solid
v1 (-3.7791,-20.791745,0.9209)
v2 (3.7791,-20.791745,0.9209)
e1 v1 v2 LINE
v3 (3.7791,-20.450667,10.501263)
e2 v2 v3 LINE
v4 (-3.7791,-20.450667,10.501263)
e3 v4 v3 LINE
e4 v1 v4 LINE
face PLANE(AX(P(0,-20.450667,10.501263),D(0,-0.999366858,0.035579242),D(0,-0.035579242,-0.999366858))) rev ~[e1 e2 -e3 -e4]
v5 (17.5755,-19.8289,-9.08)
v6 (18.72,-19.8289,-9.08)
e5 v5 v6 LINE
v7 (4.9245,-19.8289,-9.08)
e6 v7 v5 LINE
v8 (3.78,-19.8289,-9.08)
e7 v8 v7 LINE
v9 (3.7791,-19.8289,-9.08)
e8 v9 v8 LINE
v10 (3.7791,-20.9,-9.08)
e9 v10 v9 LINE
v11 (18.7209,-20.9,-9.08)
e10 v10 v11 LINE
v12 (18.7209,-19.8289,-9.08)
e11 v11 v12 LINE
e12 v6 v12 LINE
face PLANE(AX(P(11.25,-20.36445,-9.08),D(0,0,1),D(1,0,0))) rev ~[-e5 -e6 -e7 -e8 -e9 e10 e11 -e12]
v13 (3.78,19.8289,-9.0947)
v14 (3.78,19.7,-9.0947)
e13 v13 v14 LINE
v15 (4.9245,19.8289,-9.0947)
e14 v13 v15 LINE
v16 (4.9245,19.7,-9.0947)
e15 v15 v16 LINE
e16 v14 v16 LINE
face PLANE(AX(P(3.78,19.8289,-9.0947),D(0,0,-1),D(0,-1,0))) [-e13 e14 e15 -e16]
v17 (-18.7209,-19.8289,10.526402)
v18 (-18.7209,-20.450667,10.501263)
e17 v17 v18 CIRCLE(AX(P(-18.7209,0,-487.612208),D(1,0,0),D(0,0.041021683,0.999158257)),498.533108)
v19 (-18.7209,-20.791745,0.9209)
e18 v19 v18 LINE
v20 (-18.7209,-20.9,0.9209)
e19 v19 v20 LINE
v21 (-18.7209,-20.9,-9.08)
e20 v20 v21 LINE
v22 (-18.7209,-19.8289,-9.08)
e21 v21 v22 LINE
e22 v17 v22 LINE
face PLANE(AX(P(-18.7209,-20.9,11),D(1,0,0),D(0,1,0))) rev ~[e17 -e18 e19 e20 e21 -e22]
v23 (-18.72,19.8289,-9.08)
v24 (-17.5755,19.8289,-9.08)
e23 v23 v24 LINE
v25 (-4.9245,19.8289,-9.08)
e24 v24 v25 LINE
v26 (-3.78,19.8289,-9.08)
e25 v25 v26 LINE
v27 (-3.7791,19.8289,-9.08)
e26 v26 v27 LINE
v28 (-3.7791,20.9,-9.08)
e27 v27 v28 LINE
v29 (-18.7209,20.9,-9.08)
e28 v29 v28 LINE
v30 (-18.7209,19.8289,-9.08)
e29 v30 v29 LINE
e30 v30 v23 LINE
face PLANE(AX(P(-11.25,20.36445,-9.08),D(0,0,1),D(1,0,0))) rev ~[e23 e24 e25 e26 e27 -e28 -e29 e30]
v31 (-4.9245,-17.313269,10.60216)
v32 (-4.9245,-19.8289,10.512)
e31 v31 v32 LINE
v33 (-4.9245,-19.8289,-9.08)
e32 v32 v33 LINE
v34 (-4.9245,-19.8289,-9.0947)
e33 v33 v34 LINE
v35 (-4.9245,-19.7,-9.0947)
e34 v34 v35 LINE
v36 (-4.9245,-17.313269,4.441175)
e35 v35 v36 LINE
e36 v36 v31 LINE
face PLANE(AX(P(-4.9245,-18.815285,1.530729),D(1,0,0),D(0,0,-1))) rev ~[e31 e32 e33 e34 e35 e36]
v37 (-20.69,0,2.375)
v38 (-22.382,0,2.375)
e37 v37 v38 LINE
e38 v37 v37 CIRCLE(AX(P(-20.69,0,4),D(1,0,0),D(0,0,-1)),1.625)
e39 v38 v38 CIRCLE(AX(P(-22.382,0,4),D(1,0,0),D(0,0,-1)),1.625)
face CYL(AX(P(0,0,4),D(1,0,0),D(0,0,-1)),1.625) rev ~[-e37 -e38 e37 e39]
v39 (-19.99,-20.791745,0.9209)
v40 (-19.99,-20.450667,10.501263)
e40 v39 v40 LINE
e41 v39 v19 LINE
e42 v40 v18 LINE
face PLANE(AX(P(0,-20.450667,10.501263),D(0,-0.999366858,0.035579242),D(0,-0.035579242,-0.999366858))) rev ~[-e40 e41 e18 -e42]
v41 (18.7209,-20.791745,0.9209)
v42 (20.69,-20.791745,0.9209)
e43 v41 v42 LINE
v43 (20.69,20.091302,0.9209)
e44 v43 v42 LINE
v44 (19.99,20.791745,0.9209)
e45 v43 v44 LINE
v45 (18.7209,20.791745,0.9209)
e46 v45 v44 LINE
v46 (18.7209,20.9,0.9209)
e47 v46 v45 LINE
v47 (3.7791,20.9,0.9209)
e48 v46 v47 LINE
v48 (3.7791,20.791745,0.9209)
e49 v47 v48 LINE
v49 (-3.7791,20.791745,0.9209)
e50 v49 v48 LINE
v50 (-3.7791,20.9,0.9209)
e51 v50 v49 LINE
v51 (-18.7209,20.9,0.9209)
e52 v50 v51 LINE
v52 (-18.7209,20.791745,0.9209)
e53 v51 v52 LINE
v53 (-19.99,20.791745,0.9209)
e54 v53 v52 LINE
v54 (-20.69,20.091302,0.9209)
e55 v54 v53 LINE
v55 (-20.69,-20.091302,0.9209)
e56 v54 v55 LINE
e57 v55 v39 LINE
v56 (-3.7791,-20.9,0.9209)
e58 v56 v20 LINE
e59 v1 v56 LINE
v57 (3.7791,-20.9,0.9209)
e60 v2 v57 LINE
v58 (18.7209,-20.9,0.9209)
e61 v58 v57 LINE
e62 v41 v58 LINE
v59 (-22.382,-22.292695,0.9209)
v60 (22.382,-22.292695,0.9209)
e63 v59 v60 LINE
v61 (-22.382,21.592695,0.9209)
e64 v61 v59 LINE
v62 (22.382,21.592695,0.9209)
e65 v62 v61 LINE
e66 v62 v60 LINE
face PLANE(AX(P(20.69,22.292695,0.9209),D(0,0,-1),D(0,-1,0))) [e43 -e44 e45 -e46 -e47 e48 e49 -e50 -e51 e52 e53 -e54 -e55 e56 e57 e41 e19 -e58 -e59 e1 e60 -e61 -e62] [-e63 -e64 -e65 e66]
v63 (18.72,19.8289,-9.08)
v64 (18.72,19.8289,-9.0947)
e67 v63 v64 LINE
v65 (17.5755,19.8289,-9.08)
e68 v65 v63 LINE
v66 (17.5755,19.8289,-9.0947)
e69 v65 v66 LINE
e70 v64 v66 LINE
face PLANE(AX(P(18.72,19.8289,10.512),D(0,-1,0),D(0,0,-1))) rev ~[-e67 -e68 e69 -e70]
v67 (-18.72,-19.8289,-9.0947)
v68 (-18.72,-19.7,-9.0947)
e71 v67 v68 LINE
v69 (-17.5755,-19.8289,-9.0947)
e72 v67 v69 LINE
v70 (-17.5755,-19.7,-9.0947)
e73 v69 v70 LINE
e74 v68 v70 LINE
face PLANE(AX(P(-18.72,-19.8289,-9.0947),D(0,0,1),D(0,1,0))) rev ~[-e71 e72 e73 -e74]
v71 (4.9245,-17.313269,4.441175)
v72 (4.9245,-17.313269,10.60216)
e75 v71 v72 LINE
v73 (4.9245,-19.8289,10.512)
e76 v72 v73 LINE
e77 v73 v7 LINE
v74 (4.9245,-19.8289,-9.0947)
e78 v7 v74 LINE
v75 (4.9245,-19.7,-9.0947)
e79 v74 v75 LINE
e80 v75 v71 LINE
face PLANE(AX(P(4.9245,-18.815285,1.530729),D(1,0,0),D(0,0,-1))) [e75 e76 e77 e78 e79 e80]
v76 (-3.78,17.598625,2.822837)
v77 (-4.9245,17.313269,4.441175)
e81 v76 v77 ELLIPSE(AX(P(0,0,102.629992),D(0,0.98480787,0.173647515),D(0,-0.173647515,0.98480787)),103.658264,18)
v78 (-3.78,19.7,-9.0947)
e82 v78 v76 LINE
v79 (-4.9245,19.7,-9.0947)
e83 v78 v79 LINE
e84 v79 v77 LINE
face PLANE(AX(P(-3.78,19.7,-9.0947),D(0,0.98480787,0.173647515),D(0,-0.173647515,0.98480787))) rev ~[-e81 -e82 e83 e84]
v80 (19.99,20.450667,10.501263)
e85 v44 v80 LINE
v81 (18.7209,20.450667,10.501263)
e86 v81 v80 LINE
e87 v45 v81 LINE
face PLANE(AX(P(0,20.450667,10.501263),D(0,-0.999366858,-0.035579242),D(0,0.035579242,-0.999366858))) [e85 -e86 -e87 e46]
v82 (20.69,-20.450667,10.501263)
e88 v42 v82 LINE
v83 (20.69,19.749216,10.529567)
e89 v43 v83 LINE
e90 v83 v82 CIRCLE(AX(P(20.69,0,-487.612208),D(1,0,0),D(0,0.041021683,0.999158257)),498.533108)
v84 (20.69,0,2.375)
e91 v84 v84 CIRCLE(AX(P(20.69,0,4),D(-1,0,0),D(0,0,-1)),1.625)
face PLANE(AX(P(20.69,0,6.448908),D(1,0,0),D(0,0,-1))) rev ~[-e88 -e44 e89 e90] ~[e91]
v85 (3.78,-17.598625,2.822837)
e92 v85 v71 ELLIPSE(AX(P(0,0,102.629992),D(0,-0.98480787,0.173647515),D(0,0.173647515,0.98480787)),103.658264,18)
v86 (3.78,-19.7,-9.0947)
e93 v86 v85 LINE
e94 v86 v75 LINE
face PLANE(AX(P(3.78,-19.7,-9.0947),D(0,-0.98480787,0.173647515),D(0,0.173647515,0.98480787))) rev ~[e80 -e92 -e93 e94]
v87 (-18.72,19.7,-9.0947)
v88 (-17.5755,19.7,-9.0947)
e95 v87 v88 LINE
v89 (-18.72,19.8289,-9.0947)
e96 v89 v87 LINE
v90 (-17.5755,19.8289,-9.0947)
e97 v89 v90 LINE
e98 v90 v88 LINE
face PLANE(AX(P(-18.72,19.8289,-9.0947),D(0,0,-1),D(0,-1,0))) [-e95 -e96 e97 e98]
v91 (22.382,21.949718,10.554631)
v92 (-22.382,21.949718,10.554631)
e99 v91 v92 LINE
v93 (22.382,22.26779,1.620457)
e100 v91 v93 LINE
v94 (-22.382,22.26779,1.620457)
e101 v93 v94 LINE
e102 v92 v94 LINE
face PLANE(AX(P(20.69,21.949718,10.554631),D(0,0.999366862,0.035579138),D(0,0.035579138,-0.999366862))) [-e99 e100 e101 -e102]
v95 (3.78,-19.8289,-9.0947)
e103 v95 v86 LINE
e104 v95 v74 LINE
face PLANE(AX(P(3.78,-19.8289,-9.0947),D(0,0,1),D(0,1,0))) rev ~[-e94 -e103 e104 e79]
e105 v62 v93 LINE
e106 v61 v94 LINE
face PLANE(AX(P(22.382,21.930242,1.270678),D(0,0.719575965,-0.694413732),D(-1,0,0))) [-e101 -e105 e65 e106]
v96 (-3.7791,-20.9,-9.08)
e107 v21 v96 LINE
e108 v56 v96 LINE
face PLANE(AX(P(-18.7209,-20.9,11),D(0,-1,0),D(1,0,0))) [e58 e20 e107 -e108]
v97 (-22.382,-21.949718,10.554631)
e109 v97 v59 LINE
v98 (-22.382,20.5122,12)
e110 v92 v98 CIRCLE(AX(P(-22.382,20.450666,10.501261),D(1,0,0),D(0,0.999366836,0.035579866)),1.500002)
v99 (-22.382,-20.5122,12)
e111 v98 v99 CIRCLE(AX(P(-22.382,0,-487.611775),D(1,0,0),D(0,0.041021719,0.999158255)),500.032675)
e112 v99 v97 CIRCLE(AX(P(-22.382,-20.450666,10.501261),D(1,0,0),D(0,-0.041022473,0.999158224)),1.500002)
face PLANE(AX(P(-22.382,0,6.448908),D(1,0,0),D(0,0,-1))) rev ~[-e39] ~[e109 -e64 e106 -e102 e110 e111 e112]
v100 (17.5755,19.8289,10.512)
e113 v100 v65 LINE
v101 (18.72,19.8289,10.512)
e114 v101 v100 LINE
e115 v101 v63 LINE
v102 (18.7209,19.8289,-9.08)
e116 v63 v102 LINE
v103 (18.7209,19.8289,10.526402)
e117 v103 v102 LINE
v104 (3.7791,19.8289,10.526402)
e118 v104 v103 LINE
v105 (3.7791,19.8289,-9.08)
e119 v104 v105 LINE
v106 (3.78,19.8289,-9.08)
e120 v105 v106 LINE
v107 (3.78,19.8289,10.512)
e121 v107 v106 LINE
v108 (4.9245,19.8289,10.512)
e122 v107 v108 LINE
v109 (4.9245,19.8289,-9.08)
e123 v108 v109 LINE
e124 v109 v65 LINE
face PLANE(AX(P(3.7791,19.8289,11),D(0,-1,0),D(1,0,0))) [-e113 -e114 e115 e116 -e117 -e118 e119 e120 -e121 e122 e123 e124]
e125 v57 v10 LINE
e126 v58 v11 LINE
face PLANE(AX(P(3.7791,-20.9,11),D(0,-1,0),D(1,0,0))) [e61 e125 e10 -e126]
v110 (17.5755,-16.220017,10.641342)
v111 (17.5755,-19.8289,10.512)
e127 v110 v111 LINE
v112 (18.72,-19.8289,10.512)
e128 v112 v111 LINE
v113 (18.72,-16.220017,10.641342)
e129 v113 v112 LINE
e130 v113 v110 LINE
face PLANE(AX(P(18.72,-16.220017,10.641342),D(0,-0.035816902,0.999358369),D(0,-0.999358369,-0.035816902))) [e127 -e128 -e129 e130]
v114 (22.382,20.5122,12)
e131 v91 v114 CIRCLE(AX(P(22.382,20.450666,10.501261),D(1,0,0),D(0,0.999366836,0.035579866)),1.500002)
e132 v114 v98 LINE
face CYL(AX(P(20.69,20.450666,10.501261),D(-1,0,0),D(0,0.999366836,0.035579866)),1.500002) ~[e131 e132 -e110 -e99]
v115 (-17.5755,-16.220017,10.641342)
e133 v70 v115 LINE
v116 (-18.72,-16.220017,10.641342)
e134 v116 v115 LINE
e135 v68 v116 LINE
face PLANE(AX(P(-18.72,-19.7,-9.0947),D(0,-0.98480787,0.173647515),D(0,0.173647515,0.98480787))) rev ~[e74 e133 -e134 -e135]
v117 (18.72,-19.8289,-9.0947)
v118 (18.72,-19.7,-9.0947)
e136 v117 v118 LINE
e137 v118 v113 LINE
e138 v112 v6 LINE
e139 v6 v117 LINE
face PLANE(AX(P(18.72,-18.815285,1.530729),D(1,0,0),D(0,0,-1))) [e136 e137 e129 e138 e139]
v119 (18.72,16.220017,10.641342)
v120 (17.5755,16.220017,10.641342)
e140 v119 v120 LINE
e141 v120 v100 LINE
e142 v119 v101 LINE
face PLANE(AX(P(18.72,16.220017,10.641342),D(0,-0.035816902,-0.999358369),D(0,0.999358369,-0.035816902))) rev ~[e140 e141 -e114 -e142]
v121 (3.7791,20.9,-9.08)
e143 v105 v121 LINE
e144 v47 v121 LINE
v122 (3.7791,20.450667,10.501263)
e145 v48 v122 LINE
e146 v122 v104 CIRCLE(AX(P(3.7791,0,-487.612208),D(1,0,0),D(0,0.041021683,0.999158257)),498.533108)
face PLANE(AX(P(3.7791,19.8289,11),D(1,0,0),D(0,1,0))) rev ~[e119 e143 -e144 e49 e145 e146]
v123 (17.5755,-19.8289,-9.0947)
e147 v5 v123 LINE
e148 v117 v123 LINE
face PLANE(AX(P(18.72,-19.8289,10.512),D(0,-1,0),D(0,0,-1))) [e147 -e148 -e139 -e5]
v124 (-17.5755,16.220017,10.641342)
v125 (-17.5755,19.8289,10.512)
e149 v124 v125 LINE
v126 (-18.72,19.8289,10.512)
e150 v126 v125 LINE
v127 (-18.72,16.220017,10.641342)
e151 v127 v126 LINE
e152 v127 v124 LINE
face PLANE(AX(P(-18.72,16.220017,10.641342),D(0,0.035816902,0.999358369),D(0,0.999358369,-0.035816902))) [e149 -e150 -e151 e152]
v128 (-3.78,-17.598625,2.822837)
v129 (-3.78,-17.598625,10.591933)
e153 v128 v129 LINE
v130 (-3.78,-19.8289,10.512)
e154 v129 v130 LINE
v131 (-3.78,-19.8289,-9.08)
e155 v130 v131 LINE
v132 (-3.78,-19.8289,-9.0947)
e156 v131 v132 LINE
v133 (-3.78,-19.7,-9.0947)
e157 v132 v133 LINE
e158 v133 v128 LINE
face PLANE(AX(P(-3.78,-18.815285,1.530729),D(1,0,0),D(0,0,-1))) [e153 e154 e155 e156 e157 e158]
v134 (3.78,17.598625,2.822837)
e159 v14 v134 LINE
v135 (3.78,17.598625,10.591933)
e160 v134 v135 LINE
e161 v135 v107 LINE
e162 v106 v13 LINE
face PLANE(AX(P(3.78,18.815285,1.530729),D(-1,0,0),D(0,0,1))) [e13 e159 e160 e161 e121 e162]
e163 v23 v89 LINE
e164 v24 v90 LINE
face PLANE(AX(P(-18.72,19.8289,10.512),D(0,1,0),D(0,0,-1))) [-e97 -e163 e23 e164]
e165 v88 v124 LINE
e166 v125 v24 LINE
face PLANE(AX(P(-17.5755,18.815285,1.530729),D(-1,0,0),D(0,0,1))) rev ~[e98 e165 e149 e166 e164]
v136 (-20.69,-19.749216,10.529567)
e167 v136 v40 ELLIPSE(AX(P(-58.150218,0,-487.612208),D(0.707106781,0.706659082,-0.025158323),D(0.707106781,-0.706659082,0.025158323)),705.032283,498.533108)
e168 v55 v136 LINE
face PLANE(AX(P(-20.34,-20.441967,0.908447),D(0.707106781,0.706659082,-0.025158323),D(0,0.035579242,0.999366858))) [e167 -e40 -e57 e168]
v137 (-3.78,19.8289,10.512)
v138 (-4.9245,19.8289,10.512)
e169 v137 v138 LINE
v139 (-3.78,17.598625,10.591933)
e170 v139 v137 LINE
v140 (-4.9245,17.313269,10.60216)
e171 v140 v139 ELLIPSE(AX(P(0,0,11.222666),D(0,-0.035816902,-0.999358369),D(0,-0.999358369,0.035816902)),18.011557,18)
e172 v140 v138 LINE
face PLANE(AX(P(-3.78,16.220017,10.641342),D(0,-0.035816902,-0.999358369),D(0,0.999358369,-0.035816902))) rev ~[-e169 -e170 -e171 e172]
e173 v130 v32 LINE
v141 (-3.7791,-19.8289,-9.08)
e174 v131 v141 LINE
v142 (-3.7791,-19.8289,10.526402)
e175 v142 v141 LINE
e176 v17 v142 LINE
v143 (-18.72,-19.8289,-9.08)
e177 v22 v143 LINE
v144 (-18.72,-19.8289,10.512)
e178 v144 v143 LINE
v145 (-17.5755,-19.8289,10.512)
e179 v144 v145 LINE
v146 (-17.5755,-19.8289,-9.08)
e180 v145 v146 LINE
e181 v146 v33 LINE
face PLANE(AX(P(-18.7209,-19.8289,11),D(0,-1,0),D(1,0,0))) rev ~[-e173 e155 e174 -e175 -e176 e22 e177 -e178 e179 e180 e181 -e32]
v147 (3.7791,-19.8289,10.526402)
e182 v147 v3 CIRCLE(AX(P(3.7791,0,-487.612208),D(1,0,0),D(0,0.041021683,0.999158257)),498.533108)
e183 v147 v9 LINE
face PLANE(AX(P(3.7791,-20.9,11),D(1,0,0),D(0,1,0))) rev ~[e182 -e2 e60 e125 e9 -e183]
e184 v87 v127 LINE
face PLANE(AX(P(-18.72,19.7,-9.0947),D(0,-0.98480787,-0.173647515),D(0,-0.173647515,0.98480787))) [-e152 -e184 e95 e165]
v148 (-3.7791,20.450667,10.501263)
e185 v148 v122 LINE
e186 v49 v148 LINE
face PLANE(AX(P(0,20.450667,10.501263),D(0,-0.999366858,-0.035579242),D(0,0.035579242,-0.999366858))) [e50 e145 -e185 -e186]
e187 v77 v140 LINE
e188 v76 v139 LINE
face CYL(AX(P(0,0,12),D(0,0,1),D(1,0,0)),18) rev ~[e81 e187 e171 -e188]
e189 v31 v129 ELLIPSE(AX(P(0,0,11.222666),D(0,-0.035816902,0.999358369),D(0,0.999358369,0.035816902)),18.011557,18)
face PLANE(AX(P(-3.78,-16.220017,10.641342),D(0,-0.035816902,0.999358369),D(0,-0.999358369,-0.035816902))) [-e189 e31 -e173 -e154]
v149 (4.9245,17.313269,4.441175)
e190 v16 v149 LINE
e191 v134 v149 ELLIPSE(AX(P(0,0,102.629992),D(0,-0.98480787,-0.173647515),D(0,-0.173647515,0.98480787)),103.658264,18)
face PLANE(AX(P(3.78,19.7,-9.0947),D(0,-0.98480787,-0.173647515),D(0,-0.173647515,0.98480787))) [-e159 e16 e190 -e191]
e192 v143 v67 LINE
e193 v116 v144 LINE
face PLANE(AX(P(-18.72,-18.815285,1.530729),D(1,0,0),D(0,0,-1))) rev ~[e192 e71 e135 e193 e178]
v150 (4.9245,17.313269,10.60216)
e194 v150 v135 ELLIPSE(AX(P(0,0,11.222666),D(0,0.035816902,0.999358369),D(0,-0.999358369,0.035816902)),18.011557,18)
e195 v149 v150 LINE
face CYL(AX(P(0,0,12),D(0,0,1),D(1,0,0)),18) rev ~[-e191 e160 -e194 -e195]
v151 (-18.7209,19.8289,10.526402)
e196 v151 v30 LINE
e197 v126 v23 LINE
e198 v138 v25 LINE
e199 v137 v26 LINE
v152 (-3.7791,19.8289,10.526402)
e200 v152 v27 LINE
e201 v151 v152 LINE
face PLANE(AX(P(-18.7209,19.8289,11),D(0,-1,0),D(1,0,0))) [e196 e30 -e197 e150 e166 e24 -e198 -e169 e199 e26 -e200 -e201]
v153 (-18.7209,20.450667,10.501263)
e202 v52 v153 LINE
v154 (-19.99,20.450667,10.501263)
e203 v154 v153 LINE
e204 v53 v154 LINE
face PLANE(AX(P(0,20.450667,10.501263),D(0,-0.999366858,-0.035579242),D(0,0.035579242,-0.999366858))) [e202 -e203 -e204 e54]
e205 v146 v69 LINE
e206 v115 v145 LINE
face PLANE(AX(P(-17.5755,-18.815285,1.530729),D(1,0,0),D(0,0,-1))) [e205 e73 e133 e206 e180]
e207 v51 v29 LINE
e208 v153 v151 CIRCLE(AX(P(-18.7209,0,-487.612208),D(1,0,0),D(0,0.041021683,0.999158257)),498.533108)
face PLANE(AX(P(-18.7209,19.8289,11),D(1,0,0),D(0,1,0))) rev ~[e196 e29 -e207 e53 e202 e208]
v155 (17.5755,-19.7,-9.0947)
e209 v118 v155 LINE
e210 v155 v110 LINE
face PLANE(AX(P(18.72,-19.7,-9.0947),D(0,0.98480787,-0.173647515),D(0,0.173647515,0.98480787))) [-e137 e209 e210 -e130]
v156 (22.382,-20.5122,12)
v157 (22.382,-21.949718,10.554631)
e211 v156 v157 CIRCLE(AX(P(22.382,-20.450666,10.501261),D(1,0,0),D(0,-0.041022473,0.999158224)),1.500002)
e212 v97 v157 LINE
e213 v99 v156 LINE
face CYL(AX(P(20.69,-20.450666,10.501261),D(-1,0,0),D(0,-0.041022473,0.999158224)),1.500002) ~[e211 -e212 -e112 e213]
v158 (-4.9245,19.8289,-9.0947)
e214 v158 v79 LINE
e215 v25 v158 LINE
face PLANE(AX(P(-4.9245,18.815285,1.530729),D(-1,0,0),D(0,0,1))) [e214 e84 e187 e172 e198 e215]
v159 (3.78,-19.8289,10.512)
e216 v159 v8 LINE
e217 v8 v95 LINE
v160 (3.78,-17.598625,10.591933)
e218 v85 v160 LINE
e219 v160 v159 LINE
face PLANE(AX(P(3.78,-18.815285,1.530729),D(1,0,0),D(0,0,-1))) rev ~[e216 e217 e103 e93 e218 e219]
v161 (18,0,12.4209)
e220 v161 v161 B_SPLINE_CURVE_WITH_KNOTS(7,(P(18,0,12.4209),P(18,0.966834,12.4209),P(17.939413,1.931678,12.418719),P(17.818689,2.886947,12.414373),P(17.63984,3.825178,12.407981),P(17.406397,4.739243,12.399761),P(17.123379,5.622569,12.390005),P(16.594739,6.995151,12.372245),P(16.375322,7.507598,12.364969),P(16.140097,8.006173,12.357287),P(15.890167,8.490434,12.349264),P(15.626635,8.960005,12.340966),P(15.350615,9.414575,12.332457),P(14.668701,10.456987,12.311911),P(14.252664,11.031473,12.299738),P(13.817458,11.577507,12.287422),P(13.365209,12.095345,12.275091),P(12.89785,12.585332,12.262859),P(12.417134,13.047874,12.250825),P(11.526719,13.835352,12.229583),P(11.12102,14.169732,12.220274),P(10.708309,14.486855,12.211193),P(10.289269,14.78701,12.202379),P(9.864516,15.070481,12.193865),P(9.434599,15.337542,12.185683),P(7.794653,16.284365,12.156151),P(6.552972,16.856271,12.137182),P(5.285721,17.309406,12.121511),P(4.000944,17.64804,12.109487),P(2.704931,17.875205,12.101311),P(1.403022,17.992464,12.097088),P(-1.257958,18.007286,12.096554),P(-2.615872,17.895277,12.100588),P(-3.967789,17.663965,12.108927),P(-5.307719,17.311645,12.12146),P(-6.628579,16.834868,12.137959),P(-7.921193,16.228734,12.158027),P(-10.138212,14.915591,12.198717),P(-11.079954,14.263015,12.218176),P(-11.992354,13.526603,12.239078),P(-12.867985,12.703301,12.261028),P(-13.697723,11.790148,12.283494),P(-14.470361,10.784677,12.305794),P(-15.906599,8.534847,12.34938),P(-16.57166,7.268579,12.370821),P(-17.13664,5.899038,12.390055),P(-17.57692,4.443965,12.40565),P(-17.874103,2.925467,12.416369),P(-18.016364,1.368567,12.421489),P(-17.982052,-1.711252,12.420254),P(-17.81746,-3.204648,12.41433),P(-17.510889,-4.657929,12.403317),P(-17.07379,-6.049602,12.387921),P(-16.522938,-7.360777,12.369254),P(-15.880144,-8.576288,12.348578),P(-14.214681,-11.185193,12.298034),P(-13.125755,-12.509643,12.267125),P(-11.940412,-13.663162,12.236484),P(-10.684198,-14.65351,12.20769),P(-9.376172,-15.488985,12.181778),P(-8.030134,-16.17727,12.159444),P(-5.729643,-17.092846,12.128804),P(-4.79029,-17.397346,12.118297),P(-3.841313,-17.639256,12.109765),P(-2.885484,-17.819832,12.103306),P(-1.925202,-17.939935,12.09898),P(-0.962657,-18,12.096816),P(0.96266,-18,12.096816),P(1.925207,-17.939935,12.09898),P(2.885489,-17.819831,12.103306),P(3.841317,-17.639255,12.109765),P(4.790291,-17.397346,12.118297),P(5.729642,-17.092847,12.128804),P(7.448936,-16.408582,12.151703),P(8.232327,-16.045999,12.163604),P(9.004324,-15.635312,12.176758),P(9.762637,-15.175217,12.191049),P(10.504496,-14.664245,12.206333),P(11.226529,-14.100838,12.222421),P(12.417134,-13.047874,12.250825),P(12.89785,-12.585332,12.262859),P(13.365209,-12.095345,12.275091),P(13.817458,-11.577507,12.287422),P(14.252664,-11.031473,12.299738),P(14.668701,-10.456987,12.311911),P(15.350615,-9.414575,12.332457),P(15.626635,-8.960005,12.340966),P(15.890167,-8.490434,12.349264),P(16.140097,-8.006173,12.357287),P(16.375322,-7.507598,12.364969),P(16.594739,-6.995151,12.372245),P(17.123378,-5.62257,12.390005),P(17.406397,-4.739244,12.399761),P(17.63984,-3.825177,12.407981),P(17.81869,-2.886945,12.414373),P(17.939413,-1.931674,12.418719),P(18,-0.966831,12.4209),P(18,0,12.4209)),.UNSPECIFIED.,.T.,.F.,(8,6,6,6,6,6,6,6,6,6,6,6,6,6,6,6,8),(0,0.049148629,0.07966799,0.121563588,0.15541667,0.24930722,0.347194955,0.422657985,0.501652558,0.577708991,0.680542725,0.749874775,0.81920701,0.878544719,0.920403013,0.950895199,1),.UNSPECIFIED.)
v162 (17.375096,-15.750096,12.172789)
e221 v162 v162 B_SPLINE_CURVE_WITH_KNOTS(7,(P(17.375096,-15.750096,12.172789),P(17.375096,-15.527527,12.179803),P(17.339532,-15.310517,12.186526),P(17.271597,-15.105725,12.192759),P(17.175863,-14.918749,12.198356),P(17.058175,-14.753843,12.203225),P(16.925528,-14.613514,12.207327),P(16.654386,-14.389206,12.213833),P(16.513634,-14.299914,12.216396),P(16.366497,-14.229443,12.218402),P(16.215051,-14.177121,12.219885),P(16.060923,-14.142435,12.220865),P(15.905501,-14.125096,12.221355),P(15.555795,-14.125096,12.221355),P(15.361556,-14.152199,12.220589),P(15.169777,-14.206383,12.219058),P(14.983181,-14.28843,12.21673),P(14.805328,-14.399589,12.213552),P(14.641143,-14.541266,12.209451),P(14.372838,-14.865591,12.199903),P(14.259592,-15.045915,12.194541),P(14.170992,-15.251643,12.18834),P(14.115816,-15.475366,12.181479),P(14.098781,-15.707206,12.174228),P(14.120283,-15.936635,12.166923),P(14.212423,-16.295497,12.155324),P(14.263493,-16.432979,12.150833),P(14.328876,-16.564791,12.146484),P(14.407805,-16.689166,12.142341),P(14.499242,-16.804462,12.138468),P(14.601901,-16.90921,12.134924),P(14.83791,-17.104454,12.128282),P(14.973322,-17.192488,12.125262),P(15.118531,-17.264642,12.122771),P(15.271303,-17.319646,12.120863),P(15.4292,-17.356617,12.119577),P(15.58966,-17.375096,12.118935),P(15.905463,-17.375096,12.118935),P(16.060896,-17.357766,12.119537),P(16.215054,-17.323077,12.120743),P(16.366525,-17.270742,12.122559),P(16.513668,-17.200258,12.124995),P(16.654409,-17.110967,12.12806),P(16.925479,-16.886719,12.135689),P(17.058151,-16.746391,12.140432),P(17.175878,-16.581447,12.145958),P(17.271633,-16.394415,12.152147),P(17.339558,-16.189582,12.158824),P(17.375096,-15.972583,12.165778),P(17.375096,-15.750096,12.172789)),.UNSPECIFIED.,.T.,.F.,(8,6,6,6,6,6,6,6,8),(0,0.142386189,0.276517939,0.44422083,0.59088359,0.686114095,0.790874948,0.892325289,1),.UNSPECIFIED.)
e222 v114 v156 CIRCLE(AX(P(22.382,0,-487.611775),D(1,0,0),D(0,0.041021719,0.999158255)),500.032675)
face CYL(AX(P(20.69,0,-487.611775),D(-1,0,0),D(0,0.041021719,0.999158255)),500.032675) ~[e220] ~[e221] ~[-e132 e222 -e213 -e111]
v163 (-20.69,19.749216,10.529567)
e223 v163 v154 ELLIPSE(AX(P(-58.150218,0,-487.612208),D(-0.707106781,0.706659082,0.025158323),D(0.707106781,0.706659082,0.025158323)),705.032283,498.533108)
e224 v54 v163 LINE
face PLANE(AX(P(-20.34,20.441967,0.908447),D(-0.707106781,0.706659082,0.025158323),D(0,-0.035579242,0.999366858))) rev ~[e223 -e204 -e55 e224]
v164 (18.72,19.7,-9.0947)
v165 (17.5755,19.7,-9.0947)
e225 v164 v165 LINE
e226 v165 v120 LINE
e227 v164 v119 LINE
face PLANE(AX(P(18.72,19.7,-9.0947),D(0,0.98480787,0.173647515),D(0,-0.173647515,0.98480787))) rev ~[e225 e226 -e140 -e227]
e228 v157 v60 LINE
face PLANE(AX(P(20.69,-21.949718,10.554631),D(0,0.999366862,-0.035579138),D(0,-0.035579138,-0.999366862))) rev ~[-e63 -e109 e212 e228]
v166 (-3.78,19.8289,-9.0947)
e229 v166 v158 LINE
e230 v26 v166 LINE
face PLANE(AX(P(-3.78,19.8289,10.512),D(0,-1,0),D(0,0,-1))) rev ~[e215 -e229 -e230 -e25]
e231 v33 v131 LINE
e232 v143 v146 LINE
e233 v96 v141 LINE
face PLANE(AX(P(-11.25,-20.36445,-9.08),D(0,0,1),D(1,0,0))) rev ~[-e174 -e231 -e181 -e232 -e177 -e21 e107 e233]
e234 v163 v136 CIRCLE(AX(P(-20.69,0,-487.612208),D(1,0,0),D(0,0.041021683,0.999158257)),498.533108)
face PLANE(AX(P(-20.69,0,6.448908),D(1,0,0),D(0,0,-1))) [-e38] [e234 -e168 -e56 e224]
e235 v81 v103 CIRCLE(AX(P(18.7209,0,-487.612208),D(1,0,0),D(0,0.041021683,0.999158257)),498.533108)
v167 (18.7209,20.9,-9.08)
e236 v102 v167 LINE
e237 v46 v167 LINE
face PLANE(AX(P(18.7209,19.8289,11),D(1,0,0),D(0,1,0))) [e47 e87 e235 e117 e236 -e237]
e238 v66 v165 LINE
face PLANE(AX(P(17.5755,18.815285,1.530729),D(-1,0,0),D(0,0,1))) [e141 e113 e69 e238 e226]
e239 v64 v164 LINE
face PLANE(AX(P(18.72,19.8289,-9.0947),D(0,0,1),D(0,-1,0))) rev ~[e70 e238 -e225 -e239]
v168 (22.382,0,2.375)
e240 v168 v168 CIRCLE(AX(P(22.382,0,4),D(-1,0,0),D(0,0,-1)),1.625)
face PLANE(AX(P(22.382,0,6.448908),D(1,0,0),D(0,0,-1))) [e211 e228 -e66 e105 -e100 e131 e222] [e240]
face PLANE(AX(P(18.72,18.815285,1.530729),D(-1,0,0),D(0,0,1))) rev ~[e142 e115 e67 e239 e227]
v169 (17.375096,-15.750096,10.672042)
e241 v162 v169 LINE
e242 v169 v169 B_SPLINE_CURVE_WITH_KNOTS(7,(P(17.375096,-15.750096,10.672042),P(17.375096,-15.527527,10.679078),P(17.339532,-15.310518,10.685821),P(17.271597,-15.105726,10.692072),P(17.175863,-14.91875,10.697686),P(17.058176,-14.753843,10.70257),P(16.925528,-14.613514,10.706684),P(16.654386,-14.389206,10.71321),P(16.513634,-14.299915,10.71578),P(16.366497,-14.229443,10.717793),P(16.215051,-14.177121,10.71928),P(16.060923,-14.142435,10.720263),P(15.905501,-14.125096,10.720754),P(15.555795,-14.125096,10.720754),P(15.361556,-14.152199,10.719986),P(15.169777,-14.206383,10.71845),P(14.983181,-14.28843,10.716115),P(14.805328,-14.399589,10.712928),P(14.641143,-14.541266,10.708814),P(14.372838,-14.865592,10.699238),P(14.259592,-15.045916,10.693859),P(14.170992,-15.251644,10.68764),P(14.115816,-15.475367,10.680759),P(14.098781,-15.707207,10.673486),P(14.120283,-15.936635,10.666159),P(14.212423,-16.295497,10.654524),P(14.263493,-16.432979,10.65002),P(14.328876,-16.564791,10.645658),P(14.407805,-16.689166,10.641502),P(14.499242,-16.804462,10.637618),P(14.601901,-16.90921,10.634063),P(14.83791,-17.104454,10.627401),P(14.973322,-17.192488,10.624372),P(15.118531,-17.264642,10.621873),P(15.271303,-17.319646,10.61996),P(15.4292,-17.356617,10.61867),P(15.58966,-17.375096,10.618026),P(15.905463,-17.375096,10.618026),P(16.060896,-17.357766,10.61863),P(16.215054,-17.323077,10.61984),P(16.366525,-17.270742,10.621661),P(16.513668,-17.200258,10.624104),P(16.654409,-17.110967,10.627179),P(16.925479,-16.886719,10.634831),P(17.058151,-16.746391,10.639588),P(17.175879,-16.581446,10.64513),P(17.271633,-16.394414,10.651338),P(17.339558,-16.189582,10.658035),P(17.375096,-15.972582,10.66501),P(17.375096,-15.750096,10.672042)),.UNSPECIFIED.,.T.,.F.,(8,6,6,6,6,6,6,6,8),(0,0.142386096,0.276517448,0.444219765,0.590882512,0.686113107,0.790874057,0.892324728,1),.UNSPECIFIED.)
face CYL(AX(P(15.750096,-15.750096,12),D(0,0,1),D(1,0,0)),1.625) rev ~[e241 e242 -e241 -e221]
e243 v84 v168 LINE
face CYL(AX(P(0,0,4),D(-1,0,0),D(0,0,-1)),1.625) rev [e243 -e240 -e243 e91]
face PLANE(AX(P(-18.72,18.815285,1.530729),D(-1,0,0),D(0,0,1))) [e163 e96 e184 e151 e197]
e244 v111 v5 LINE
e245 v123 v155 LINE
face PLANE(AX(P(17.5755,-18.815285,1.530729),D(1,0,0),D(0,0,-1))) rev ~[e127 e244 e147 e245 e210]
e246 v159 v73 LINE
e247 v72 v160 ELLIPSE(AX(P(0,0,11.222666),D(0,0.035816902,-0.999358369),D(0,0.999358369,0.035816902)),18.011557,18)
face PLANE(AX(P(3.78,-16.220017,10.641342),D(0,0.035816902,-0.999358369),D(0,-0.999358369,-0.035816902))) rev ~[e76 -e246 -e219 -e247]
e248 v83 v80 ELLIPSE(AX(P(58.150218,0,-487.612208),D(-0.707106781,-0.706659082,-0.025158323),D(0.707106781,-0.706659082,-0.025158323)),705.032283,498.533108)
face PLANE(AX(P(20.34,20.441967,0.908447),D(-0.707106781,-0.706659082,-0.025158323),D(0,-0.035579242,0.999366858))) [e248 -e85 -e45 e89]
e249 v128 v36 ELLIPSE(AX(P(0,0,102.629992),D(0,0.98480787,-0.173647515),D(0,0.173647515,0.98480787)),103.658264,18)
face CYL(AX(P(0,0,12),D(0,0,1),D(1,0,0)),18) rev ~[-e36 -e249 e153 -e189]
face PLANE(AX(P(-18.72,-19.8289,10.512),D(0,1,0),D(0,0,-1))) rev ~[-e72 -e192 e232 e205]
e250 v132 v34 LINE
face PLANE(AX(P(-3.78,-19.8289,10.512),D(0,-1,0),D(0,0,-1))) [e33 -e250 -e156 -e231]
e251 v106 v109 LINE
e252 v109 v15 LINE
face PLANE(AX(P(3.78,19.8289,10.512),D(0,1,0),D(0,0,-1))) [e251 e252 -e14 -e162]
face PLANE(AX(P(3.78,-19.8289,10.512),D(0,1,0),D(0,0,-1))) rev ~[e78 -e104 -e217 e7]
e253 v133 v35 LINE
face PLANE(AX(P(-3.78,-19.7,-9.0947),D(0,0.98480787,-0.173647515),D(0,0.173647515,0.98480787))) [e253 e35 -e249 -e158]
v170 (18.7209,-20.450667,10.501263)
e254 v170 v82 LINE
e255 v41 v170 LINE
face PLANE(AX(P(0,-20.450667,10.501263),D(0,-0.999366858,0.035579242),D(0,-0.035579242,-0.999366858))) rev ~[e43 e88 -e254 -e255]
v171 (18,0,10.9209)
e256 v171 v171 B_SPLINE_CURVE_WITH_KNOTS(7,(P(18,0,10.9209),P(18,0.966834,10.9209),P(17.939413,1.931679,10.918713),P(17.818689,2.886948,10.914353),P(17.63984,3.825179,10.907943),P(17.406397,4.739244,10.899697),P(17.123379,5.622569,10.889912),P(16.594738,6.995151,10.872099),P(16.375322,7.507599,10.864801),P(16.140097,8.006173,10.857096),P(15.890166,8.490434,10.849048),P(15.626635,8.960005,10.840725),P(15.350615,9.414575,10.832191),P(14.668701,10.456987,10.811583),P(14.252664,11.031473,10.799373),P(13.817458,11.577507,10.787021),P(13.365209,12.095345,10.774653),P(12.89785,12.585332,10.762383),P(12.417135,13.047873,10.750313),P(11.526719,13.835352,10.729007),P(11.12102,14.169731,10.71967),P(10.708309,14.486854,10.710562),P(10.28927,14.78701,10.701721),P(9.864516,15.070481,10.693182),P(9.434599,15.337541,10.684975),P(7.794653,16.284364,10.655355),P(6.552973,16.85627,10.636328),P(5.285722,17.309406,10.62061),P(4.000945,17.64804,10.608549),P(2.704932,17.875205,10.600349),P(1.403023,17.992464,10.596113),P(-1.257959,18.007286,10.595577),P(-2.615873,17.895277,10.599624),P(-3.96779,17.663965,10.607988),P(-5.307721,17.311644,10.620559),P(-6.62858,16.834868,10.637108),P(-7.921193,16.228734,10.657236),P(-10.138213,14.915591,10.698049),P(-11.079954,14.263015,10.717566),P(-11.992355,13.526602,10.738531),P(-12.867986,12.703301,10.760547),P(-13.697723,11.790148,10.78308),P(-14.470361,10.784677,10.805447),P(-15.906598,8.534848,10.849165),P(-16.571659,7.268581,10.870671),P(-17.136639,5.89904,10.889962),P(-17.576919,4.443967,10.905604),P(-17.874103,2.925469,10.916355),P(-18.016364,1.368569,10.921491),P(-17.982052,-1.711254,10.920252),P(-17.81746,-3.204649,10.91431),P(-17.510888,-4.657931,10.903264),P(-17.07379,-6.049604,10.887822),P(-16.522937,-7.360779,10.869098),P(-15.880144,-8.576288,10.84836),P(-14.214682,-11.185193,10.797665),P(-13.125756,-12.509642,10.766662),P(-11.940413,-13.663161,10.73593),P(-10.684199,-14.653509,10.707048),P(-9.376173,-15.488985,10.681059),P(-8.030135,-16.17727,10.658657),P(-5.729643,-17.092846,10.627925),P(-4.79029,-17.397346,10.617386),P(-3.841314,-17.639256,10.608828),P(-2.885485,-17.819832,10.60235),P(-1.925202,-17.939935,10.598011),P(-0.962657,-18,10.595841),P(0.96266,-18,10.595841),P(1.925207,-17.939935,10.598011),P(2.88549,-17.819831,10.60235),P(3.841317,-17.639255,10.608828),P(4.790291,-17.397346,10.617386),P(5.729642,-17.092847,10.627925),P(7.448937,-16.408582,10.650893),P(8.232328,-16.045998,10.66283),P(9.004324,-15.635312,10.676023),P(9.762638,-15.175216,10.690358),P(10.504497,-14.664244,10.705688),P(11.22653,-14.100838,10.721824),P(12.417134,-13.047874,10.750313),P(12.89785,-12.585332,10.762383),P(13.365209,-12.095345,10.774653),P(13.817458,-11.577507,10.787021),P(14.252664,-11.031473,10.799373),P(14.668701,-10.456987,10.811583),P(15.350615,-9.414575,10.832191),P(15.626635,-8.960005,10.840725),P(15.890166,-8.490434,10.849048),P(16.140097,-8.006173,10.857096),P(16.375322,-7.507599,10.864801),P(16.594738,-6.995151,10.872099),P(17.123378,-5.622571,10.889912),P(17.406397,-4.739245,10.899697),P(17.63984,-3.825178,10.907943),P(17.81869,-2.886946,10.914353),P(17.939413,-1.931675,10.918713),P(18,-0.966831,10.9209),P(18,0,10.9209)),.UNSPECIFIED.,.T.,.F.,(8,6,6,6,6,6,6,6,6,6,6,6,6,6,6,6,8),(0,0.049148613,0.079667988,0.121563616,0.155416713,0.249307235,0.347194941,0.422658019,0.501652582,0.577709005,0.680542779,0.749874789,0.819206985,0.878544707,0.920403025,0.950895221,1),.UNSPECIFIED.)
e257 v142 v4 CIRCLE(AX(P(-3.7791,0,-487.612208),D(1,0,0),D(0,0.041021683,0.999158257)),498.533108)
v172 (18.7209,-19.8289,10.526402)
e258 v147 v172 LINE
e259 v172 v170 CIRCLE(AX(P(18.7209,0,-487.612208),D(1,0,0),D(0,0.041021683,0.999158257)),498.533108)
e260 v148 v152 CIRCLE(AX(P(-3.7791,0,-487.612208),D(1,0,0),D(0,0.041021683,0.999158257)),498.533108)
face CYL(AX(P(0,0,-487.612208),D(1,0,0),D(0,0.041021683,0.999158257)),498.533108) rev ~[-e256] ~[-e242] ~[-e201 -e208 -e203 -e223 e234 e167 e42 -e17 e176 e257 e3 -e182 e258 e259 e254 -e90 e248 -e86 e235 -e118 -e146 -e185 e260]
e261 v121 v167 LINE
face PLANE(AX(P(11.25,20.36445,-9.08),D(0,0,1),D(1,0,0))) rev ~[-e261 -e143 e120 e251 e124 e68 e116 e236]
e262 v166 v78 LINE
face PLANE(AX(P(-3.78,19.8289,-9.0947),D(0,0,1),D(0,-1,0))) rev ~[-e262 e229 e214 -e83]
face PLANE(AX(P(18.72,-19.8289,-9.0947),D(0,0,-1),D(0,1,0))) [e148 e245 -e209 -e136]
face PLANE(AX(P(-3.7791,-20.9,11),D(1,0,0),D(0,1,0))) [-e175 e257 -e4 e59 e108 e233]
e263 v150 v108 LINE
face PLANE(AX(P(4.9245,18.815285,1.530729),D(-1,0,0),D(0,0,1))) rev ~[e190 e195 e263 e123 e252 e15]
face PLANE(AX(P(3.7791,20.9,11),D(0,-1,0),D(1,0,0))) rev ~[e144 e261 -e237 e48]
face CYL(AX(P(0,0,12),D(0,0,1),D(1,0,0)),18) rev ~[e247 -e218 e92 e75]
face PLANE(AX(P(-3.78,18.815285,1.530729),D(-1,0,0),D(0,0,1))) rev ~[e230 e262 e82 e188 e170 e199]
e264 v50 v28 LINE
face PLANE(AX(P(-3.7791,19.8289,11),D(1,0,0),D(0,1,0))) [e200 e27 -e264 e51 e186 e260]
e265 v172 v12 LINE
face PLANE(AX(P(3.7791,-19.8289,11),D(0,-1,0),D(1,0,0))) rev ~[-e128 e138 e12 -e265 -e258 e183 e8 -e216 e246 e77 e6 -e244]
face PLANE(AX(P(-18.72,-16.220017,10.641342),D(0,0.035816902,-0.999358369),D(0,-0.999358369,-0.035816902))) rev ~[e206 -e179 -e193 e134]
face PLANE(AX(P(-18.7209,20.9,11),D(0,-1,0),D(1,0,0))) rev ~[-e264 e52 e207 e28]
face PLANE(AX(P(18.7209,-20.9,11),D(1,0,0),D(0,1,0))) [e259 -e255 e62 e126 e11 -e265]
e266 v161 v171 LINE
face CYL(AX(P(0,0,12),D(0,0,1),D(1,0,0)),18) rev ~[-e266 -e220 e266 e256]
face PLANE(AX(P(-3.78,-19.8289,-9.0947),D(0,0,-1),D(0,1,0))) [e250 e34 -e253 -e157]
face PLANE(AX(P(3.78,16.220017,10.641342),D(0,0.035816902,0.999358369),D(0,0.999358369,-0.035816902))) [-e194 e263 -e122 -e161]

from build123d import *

# Parameters (mm, degrees)
PAD_DEPTH            = 20.6929
PAD001_DEPTH         = 1.692
PAD002_DEPTH         = 1.692
PAD003_START         = -1
SKETCH003_W          = 14.9418
SKETCH003_H          = 1.0711
PAD003_DEPTH         = 20.08
PAD004_DEPTH         = 1.1445
PAD005_DEPTH         = 1.1445
PAD006_DEPTH         = 1.1445
PAD007_DEPTH         = 1.1445
SKETCH008_R          = 18
SKETCH008_R_2        = 1.625
POCKET_DEPTH         = 21.0957
POCKET_DEPTH_BACK    = 0.4219
CHAMFER001_SIZE      = 0.7
SKETCH013_R          = 1.625
POCKET001_DEPTH      = 22.383
POCKET001_DEPTH_BACK = 22.383
BODY_PLACEMENT_ANGLE = 90


with BuildPart() as part:
    # Sketch → Pad (new body, symmetric)
    with BuildSketch(Plane.YZ):
        with BuildLine():
            ThreePointArc((0, 20.5122), (-0.4209, 0), (0, -20.5122))
            ThreePointArc((0, -20.5122), (0.44097, -21.514212), (1.445369, -21.949718))
            Line((1.445369, -21.949718), (11.0791, -22.292695))
            Line((11.0791, -22.292695), (11.0791, -20.791745))
            Line((1.498737, -20.450667), (11.0791, -20.791745))
            ThreePointArc((1.498737, 20.450667), (1.0791, 0), (1.498737, -20.450667))
            Line((1.498737, 20.450667), (11.0791, 20.791745))
            Line((11.0791, 20.791745), (11.0791, 22.292695))
            Line((1.445369, 21.949718), (11.0791, 22.292695))
            ThreePointArc((1.445369, 21.949718), (0.44097, 21.514212), (0, 20.5122))
        make_face()
    extrude(amount=PAD_DEPTH, both=True)

    # Sketch001 → Pad001 (join)
    with BuildSketch(Plane.YZ.offset(20.69)):
        with BuildLine():
            ThreePointArc((0, 20.5122), (-0.4209, 0), (0, -20.5122))
            ThreePointArc((0, -20.5122), (0.44097, -21.514212), (1.445369, -21.949718))
            Line((1.445369, -21.949718), (11.0791, -22.292695))
            Line((11.0791, 22.292695), (11.0791, -22.292695))
            Line((1.445369, 21.949718), (11.0791, 22.292695))
            ThreePointArc((1.445369, 21.949718), (0.44097, 21.514212), (0, 20.5122))
        make_face()
    extrude(amount=PAD001_DEPTH)

    # Sketch002 → Pad002 (join)
    with BuildSketch(Plane.YZ.offset(-20.69)):
        with BuildLine():
            ThreePointArc((0, 20.5122), (-0.4209, 0), (0, -20.5122))
            ThreePointArc((0, -20.5122), (0.44097, -21.514212), (1.445369, -21.949718))
            Line((1.445369, -21.949718), (11.0791, -22.292695))
            Line((11.0791, 22.292695), (11.0791, -22.292695))
            Line((1.445369, 21.949718), (11.0791, 22.292695))
            ThreePointArc((1.445369, 21.949718), (0.44097, 21.514212), (0, 20.5122))
        make_face()
    extrude(amount=-PAD002_DEPTH)

    # Sketch003 → Pad003 (join)
    with BuildSketch(Plane.XZ.offset(PAD003_START)):
        with Locations((-11.25, 20.36445)):
            Rectangle(SKETCH003_W, SKETCH003_H)
        with Locations((11.25, 20.36445)):
            Rectangle(SKETCH003_W, SKETCH003_H)
        with Locations((-11.25, -20.36445)):
            Rectangle(SKETCH003_W, SKETCH003_H)
        with Locations((11.25, -20.36445)):
            Rectangle(SKETCH003_W, SKETCH003_H)
    extrude(amount=-PAD003_DEPTH)

    # Sketch004 → Pad004 (join)
    with BuildSketch(Plane.YZ.offset(3.78)):
        Polygon((1.358658, 16.220017), (1.488, 19.8289), (21.0947, 19.8289), (21.0947, 19.7), align=None)
        Polygon((1.358658, -16.220017), (1.488, -19.8289), (21.0947, -19.8289), (21.0947, -19.7), align=None)
    extrude(amount=PAD004_DEPTH)

    # Sketch005 → Pad005 (join)
    with BuildSketch(Plane.YZ.offset(-3.78)):
        Polygon((1.358658, 16.220017), (1.488, 19.8289), (21.0947, 19.8289), (21.0947, 19.7), align=None)
        Polygon((1.358658, -16.220017), (1.488, -19.8289), (21.0947, -19.8289), (21.0947, -19.7), align=None)
    extrude(amount=-PAD005_DEPTH)

    # Sketch006 → Pad006 (join)
    with BuildSketch(Plane.YZ.offset(18.72)):
        Polygon((1.358658, 16.220017), (1.488, 19.8289), (21.0947, 19.8289), (21.0947, 19.7), align=None)
        Polygon((1.358658, -16.220017), (1.488, -19.8289), (21.0947, -19.8289), (21.0947, -19.7), align=None)
    extrude(amount=-PAD006_DEPTH)

    # Sketch007 → Pad007 (join)
    with BuildSketch(Plane.YZ.offset(-18.72)):
        Polygon((1.358658, 16.220017), (1.488, 19.8289), (21.0947, 19.8289), (21.0947, 19.7), align=None)
        Polygon((1.358658, -16.220017), (1.488, -19.8289), (21.0947, -19.8289), (21.0947, -19.7), align=None)
    extrude(amount=PAD007_DEPTH)

    # Sketch008 → Pocket (cut, two sides)
    with BuildSketch(Plane.XZ) as pocket_sk:
        Circle(SKETCH008_R)
        with Locations((15.750096, -15.750096)):
            Circle(SKETCH008_R_2)
    extrude(amount=-POCKET_DEPTH, mode=Mode.SUBTRACT)
    extrude(pocket_sk.sketch, amount=POCKET_DEPTH_BACK, mode=Mode.SUBTRACT)

    # Chamfer001
    chamfer001_edges = [part.edges().sort_by_distance(p)[0] for p in [
        (-20.69, 6.288919, 20.621206),
        (20.69, 6.288919, 20.621206),
        (21.53745, 11.0791, 22.292695),
        (-20.69, 6.288919, -20.621206),
    ]]
    chamfer(chamfer001_edges, length=CHAMFER001_SIZE)

    # Sketch013 → Pocket001 (cut, two sides)
    with BuildSketch(Plane.YZ) as pocket001_sk:
        with Locations((8, 0)):
            Circle(SKETCH013_R)
    extrude(amount=-POCKET001_DEPTH, mode=Mode.SUBTRACT)
    extrude(pocket001_sk.sketch, amount=POCKET001_DEPTH_BACK, mode=Mode.SUBTRACT)


with BuildPart() as part_1:
    # Body placement: moved
    add(part.part.moved(Location((0, 0, 12))).rotate(Axis((0, 0, 12), (-1, 0, 0)), BODY_PLACEMENT_ANGLE))


solid = part_1.part
